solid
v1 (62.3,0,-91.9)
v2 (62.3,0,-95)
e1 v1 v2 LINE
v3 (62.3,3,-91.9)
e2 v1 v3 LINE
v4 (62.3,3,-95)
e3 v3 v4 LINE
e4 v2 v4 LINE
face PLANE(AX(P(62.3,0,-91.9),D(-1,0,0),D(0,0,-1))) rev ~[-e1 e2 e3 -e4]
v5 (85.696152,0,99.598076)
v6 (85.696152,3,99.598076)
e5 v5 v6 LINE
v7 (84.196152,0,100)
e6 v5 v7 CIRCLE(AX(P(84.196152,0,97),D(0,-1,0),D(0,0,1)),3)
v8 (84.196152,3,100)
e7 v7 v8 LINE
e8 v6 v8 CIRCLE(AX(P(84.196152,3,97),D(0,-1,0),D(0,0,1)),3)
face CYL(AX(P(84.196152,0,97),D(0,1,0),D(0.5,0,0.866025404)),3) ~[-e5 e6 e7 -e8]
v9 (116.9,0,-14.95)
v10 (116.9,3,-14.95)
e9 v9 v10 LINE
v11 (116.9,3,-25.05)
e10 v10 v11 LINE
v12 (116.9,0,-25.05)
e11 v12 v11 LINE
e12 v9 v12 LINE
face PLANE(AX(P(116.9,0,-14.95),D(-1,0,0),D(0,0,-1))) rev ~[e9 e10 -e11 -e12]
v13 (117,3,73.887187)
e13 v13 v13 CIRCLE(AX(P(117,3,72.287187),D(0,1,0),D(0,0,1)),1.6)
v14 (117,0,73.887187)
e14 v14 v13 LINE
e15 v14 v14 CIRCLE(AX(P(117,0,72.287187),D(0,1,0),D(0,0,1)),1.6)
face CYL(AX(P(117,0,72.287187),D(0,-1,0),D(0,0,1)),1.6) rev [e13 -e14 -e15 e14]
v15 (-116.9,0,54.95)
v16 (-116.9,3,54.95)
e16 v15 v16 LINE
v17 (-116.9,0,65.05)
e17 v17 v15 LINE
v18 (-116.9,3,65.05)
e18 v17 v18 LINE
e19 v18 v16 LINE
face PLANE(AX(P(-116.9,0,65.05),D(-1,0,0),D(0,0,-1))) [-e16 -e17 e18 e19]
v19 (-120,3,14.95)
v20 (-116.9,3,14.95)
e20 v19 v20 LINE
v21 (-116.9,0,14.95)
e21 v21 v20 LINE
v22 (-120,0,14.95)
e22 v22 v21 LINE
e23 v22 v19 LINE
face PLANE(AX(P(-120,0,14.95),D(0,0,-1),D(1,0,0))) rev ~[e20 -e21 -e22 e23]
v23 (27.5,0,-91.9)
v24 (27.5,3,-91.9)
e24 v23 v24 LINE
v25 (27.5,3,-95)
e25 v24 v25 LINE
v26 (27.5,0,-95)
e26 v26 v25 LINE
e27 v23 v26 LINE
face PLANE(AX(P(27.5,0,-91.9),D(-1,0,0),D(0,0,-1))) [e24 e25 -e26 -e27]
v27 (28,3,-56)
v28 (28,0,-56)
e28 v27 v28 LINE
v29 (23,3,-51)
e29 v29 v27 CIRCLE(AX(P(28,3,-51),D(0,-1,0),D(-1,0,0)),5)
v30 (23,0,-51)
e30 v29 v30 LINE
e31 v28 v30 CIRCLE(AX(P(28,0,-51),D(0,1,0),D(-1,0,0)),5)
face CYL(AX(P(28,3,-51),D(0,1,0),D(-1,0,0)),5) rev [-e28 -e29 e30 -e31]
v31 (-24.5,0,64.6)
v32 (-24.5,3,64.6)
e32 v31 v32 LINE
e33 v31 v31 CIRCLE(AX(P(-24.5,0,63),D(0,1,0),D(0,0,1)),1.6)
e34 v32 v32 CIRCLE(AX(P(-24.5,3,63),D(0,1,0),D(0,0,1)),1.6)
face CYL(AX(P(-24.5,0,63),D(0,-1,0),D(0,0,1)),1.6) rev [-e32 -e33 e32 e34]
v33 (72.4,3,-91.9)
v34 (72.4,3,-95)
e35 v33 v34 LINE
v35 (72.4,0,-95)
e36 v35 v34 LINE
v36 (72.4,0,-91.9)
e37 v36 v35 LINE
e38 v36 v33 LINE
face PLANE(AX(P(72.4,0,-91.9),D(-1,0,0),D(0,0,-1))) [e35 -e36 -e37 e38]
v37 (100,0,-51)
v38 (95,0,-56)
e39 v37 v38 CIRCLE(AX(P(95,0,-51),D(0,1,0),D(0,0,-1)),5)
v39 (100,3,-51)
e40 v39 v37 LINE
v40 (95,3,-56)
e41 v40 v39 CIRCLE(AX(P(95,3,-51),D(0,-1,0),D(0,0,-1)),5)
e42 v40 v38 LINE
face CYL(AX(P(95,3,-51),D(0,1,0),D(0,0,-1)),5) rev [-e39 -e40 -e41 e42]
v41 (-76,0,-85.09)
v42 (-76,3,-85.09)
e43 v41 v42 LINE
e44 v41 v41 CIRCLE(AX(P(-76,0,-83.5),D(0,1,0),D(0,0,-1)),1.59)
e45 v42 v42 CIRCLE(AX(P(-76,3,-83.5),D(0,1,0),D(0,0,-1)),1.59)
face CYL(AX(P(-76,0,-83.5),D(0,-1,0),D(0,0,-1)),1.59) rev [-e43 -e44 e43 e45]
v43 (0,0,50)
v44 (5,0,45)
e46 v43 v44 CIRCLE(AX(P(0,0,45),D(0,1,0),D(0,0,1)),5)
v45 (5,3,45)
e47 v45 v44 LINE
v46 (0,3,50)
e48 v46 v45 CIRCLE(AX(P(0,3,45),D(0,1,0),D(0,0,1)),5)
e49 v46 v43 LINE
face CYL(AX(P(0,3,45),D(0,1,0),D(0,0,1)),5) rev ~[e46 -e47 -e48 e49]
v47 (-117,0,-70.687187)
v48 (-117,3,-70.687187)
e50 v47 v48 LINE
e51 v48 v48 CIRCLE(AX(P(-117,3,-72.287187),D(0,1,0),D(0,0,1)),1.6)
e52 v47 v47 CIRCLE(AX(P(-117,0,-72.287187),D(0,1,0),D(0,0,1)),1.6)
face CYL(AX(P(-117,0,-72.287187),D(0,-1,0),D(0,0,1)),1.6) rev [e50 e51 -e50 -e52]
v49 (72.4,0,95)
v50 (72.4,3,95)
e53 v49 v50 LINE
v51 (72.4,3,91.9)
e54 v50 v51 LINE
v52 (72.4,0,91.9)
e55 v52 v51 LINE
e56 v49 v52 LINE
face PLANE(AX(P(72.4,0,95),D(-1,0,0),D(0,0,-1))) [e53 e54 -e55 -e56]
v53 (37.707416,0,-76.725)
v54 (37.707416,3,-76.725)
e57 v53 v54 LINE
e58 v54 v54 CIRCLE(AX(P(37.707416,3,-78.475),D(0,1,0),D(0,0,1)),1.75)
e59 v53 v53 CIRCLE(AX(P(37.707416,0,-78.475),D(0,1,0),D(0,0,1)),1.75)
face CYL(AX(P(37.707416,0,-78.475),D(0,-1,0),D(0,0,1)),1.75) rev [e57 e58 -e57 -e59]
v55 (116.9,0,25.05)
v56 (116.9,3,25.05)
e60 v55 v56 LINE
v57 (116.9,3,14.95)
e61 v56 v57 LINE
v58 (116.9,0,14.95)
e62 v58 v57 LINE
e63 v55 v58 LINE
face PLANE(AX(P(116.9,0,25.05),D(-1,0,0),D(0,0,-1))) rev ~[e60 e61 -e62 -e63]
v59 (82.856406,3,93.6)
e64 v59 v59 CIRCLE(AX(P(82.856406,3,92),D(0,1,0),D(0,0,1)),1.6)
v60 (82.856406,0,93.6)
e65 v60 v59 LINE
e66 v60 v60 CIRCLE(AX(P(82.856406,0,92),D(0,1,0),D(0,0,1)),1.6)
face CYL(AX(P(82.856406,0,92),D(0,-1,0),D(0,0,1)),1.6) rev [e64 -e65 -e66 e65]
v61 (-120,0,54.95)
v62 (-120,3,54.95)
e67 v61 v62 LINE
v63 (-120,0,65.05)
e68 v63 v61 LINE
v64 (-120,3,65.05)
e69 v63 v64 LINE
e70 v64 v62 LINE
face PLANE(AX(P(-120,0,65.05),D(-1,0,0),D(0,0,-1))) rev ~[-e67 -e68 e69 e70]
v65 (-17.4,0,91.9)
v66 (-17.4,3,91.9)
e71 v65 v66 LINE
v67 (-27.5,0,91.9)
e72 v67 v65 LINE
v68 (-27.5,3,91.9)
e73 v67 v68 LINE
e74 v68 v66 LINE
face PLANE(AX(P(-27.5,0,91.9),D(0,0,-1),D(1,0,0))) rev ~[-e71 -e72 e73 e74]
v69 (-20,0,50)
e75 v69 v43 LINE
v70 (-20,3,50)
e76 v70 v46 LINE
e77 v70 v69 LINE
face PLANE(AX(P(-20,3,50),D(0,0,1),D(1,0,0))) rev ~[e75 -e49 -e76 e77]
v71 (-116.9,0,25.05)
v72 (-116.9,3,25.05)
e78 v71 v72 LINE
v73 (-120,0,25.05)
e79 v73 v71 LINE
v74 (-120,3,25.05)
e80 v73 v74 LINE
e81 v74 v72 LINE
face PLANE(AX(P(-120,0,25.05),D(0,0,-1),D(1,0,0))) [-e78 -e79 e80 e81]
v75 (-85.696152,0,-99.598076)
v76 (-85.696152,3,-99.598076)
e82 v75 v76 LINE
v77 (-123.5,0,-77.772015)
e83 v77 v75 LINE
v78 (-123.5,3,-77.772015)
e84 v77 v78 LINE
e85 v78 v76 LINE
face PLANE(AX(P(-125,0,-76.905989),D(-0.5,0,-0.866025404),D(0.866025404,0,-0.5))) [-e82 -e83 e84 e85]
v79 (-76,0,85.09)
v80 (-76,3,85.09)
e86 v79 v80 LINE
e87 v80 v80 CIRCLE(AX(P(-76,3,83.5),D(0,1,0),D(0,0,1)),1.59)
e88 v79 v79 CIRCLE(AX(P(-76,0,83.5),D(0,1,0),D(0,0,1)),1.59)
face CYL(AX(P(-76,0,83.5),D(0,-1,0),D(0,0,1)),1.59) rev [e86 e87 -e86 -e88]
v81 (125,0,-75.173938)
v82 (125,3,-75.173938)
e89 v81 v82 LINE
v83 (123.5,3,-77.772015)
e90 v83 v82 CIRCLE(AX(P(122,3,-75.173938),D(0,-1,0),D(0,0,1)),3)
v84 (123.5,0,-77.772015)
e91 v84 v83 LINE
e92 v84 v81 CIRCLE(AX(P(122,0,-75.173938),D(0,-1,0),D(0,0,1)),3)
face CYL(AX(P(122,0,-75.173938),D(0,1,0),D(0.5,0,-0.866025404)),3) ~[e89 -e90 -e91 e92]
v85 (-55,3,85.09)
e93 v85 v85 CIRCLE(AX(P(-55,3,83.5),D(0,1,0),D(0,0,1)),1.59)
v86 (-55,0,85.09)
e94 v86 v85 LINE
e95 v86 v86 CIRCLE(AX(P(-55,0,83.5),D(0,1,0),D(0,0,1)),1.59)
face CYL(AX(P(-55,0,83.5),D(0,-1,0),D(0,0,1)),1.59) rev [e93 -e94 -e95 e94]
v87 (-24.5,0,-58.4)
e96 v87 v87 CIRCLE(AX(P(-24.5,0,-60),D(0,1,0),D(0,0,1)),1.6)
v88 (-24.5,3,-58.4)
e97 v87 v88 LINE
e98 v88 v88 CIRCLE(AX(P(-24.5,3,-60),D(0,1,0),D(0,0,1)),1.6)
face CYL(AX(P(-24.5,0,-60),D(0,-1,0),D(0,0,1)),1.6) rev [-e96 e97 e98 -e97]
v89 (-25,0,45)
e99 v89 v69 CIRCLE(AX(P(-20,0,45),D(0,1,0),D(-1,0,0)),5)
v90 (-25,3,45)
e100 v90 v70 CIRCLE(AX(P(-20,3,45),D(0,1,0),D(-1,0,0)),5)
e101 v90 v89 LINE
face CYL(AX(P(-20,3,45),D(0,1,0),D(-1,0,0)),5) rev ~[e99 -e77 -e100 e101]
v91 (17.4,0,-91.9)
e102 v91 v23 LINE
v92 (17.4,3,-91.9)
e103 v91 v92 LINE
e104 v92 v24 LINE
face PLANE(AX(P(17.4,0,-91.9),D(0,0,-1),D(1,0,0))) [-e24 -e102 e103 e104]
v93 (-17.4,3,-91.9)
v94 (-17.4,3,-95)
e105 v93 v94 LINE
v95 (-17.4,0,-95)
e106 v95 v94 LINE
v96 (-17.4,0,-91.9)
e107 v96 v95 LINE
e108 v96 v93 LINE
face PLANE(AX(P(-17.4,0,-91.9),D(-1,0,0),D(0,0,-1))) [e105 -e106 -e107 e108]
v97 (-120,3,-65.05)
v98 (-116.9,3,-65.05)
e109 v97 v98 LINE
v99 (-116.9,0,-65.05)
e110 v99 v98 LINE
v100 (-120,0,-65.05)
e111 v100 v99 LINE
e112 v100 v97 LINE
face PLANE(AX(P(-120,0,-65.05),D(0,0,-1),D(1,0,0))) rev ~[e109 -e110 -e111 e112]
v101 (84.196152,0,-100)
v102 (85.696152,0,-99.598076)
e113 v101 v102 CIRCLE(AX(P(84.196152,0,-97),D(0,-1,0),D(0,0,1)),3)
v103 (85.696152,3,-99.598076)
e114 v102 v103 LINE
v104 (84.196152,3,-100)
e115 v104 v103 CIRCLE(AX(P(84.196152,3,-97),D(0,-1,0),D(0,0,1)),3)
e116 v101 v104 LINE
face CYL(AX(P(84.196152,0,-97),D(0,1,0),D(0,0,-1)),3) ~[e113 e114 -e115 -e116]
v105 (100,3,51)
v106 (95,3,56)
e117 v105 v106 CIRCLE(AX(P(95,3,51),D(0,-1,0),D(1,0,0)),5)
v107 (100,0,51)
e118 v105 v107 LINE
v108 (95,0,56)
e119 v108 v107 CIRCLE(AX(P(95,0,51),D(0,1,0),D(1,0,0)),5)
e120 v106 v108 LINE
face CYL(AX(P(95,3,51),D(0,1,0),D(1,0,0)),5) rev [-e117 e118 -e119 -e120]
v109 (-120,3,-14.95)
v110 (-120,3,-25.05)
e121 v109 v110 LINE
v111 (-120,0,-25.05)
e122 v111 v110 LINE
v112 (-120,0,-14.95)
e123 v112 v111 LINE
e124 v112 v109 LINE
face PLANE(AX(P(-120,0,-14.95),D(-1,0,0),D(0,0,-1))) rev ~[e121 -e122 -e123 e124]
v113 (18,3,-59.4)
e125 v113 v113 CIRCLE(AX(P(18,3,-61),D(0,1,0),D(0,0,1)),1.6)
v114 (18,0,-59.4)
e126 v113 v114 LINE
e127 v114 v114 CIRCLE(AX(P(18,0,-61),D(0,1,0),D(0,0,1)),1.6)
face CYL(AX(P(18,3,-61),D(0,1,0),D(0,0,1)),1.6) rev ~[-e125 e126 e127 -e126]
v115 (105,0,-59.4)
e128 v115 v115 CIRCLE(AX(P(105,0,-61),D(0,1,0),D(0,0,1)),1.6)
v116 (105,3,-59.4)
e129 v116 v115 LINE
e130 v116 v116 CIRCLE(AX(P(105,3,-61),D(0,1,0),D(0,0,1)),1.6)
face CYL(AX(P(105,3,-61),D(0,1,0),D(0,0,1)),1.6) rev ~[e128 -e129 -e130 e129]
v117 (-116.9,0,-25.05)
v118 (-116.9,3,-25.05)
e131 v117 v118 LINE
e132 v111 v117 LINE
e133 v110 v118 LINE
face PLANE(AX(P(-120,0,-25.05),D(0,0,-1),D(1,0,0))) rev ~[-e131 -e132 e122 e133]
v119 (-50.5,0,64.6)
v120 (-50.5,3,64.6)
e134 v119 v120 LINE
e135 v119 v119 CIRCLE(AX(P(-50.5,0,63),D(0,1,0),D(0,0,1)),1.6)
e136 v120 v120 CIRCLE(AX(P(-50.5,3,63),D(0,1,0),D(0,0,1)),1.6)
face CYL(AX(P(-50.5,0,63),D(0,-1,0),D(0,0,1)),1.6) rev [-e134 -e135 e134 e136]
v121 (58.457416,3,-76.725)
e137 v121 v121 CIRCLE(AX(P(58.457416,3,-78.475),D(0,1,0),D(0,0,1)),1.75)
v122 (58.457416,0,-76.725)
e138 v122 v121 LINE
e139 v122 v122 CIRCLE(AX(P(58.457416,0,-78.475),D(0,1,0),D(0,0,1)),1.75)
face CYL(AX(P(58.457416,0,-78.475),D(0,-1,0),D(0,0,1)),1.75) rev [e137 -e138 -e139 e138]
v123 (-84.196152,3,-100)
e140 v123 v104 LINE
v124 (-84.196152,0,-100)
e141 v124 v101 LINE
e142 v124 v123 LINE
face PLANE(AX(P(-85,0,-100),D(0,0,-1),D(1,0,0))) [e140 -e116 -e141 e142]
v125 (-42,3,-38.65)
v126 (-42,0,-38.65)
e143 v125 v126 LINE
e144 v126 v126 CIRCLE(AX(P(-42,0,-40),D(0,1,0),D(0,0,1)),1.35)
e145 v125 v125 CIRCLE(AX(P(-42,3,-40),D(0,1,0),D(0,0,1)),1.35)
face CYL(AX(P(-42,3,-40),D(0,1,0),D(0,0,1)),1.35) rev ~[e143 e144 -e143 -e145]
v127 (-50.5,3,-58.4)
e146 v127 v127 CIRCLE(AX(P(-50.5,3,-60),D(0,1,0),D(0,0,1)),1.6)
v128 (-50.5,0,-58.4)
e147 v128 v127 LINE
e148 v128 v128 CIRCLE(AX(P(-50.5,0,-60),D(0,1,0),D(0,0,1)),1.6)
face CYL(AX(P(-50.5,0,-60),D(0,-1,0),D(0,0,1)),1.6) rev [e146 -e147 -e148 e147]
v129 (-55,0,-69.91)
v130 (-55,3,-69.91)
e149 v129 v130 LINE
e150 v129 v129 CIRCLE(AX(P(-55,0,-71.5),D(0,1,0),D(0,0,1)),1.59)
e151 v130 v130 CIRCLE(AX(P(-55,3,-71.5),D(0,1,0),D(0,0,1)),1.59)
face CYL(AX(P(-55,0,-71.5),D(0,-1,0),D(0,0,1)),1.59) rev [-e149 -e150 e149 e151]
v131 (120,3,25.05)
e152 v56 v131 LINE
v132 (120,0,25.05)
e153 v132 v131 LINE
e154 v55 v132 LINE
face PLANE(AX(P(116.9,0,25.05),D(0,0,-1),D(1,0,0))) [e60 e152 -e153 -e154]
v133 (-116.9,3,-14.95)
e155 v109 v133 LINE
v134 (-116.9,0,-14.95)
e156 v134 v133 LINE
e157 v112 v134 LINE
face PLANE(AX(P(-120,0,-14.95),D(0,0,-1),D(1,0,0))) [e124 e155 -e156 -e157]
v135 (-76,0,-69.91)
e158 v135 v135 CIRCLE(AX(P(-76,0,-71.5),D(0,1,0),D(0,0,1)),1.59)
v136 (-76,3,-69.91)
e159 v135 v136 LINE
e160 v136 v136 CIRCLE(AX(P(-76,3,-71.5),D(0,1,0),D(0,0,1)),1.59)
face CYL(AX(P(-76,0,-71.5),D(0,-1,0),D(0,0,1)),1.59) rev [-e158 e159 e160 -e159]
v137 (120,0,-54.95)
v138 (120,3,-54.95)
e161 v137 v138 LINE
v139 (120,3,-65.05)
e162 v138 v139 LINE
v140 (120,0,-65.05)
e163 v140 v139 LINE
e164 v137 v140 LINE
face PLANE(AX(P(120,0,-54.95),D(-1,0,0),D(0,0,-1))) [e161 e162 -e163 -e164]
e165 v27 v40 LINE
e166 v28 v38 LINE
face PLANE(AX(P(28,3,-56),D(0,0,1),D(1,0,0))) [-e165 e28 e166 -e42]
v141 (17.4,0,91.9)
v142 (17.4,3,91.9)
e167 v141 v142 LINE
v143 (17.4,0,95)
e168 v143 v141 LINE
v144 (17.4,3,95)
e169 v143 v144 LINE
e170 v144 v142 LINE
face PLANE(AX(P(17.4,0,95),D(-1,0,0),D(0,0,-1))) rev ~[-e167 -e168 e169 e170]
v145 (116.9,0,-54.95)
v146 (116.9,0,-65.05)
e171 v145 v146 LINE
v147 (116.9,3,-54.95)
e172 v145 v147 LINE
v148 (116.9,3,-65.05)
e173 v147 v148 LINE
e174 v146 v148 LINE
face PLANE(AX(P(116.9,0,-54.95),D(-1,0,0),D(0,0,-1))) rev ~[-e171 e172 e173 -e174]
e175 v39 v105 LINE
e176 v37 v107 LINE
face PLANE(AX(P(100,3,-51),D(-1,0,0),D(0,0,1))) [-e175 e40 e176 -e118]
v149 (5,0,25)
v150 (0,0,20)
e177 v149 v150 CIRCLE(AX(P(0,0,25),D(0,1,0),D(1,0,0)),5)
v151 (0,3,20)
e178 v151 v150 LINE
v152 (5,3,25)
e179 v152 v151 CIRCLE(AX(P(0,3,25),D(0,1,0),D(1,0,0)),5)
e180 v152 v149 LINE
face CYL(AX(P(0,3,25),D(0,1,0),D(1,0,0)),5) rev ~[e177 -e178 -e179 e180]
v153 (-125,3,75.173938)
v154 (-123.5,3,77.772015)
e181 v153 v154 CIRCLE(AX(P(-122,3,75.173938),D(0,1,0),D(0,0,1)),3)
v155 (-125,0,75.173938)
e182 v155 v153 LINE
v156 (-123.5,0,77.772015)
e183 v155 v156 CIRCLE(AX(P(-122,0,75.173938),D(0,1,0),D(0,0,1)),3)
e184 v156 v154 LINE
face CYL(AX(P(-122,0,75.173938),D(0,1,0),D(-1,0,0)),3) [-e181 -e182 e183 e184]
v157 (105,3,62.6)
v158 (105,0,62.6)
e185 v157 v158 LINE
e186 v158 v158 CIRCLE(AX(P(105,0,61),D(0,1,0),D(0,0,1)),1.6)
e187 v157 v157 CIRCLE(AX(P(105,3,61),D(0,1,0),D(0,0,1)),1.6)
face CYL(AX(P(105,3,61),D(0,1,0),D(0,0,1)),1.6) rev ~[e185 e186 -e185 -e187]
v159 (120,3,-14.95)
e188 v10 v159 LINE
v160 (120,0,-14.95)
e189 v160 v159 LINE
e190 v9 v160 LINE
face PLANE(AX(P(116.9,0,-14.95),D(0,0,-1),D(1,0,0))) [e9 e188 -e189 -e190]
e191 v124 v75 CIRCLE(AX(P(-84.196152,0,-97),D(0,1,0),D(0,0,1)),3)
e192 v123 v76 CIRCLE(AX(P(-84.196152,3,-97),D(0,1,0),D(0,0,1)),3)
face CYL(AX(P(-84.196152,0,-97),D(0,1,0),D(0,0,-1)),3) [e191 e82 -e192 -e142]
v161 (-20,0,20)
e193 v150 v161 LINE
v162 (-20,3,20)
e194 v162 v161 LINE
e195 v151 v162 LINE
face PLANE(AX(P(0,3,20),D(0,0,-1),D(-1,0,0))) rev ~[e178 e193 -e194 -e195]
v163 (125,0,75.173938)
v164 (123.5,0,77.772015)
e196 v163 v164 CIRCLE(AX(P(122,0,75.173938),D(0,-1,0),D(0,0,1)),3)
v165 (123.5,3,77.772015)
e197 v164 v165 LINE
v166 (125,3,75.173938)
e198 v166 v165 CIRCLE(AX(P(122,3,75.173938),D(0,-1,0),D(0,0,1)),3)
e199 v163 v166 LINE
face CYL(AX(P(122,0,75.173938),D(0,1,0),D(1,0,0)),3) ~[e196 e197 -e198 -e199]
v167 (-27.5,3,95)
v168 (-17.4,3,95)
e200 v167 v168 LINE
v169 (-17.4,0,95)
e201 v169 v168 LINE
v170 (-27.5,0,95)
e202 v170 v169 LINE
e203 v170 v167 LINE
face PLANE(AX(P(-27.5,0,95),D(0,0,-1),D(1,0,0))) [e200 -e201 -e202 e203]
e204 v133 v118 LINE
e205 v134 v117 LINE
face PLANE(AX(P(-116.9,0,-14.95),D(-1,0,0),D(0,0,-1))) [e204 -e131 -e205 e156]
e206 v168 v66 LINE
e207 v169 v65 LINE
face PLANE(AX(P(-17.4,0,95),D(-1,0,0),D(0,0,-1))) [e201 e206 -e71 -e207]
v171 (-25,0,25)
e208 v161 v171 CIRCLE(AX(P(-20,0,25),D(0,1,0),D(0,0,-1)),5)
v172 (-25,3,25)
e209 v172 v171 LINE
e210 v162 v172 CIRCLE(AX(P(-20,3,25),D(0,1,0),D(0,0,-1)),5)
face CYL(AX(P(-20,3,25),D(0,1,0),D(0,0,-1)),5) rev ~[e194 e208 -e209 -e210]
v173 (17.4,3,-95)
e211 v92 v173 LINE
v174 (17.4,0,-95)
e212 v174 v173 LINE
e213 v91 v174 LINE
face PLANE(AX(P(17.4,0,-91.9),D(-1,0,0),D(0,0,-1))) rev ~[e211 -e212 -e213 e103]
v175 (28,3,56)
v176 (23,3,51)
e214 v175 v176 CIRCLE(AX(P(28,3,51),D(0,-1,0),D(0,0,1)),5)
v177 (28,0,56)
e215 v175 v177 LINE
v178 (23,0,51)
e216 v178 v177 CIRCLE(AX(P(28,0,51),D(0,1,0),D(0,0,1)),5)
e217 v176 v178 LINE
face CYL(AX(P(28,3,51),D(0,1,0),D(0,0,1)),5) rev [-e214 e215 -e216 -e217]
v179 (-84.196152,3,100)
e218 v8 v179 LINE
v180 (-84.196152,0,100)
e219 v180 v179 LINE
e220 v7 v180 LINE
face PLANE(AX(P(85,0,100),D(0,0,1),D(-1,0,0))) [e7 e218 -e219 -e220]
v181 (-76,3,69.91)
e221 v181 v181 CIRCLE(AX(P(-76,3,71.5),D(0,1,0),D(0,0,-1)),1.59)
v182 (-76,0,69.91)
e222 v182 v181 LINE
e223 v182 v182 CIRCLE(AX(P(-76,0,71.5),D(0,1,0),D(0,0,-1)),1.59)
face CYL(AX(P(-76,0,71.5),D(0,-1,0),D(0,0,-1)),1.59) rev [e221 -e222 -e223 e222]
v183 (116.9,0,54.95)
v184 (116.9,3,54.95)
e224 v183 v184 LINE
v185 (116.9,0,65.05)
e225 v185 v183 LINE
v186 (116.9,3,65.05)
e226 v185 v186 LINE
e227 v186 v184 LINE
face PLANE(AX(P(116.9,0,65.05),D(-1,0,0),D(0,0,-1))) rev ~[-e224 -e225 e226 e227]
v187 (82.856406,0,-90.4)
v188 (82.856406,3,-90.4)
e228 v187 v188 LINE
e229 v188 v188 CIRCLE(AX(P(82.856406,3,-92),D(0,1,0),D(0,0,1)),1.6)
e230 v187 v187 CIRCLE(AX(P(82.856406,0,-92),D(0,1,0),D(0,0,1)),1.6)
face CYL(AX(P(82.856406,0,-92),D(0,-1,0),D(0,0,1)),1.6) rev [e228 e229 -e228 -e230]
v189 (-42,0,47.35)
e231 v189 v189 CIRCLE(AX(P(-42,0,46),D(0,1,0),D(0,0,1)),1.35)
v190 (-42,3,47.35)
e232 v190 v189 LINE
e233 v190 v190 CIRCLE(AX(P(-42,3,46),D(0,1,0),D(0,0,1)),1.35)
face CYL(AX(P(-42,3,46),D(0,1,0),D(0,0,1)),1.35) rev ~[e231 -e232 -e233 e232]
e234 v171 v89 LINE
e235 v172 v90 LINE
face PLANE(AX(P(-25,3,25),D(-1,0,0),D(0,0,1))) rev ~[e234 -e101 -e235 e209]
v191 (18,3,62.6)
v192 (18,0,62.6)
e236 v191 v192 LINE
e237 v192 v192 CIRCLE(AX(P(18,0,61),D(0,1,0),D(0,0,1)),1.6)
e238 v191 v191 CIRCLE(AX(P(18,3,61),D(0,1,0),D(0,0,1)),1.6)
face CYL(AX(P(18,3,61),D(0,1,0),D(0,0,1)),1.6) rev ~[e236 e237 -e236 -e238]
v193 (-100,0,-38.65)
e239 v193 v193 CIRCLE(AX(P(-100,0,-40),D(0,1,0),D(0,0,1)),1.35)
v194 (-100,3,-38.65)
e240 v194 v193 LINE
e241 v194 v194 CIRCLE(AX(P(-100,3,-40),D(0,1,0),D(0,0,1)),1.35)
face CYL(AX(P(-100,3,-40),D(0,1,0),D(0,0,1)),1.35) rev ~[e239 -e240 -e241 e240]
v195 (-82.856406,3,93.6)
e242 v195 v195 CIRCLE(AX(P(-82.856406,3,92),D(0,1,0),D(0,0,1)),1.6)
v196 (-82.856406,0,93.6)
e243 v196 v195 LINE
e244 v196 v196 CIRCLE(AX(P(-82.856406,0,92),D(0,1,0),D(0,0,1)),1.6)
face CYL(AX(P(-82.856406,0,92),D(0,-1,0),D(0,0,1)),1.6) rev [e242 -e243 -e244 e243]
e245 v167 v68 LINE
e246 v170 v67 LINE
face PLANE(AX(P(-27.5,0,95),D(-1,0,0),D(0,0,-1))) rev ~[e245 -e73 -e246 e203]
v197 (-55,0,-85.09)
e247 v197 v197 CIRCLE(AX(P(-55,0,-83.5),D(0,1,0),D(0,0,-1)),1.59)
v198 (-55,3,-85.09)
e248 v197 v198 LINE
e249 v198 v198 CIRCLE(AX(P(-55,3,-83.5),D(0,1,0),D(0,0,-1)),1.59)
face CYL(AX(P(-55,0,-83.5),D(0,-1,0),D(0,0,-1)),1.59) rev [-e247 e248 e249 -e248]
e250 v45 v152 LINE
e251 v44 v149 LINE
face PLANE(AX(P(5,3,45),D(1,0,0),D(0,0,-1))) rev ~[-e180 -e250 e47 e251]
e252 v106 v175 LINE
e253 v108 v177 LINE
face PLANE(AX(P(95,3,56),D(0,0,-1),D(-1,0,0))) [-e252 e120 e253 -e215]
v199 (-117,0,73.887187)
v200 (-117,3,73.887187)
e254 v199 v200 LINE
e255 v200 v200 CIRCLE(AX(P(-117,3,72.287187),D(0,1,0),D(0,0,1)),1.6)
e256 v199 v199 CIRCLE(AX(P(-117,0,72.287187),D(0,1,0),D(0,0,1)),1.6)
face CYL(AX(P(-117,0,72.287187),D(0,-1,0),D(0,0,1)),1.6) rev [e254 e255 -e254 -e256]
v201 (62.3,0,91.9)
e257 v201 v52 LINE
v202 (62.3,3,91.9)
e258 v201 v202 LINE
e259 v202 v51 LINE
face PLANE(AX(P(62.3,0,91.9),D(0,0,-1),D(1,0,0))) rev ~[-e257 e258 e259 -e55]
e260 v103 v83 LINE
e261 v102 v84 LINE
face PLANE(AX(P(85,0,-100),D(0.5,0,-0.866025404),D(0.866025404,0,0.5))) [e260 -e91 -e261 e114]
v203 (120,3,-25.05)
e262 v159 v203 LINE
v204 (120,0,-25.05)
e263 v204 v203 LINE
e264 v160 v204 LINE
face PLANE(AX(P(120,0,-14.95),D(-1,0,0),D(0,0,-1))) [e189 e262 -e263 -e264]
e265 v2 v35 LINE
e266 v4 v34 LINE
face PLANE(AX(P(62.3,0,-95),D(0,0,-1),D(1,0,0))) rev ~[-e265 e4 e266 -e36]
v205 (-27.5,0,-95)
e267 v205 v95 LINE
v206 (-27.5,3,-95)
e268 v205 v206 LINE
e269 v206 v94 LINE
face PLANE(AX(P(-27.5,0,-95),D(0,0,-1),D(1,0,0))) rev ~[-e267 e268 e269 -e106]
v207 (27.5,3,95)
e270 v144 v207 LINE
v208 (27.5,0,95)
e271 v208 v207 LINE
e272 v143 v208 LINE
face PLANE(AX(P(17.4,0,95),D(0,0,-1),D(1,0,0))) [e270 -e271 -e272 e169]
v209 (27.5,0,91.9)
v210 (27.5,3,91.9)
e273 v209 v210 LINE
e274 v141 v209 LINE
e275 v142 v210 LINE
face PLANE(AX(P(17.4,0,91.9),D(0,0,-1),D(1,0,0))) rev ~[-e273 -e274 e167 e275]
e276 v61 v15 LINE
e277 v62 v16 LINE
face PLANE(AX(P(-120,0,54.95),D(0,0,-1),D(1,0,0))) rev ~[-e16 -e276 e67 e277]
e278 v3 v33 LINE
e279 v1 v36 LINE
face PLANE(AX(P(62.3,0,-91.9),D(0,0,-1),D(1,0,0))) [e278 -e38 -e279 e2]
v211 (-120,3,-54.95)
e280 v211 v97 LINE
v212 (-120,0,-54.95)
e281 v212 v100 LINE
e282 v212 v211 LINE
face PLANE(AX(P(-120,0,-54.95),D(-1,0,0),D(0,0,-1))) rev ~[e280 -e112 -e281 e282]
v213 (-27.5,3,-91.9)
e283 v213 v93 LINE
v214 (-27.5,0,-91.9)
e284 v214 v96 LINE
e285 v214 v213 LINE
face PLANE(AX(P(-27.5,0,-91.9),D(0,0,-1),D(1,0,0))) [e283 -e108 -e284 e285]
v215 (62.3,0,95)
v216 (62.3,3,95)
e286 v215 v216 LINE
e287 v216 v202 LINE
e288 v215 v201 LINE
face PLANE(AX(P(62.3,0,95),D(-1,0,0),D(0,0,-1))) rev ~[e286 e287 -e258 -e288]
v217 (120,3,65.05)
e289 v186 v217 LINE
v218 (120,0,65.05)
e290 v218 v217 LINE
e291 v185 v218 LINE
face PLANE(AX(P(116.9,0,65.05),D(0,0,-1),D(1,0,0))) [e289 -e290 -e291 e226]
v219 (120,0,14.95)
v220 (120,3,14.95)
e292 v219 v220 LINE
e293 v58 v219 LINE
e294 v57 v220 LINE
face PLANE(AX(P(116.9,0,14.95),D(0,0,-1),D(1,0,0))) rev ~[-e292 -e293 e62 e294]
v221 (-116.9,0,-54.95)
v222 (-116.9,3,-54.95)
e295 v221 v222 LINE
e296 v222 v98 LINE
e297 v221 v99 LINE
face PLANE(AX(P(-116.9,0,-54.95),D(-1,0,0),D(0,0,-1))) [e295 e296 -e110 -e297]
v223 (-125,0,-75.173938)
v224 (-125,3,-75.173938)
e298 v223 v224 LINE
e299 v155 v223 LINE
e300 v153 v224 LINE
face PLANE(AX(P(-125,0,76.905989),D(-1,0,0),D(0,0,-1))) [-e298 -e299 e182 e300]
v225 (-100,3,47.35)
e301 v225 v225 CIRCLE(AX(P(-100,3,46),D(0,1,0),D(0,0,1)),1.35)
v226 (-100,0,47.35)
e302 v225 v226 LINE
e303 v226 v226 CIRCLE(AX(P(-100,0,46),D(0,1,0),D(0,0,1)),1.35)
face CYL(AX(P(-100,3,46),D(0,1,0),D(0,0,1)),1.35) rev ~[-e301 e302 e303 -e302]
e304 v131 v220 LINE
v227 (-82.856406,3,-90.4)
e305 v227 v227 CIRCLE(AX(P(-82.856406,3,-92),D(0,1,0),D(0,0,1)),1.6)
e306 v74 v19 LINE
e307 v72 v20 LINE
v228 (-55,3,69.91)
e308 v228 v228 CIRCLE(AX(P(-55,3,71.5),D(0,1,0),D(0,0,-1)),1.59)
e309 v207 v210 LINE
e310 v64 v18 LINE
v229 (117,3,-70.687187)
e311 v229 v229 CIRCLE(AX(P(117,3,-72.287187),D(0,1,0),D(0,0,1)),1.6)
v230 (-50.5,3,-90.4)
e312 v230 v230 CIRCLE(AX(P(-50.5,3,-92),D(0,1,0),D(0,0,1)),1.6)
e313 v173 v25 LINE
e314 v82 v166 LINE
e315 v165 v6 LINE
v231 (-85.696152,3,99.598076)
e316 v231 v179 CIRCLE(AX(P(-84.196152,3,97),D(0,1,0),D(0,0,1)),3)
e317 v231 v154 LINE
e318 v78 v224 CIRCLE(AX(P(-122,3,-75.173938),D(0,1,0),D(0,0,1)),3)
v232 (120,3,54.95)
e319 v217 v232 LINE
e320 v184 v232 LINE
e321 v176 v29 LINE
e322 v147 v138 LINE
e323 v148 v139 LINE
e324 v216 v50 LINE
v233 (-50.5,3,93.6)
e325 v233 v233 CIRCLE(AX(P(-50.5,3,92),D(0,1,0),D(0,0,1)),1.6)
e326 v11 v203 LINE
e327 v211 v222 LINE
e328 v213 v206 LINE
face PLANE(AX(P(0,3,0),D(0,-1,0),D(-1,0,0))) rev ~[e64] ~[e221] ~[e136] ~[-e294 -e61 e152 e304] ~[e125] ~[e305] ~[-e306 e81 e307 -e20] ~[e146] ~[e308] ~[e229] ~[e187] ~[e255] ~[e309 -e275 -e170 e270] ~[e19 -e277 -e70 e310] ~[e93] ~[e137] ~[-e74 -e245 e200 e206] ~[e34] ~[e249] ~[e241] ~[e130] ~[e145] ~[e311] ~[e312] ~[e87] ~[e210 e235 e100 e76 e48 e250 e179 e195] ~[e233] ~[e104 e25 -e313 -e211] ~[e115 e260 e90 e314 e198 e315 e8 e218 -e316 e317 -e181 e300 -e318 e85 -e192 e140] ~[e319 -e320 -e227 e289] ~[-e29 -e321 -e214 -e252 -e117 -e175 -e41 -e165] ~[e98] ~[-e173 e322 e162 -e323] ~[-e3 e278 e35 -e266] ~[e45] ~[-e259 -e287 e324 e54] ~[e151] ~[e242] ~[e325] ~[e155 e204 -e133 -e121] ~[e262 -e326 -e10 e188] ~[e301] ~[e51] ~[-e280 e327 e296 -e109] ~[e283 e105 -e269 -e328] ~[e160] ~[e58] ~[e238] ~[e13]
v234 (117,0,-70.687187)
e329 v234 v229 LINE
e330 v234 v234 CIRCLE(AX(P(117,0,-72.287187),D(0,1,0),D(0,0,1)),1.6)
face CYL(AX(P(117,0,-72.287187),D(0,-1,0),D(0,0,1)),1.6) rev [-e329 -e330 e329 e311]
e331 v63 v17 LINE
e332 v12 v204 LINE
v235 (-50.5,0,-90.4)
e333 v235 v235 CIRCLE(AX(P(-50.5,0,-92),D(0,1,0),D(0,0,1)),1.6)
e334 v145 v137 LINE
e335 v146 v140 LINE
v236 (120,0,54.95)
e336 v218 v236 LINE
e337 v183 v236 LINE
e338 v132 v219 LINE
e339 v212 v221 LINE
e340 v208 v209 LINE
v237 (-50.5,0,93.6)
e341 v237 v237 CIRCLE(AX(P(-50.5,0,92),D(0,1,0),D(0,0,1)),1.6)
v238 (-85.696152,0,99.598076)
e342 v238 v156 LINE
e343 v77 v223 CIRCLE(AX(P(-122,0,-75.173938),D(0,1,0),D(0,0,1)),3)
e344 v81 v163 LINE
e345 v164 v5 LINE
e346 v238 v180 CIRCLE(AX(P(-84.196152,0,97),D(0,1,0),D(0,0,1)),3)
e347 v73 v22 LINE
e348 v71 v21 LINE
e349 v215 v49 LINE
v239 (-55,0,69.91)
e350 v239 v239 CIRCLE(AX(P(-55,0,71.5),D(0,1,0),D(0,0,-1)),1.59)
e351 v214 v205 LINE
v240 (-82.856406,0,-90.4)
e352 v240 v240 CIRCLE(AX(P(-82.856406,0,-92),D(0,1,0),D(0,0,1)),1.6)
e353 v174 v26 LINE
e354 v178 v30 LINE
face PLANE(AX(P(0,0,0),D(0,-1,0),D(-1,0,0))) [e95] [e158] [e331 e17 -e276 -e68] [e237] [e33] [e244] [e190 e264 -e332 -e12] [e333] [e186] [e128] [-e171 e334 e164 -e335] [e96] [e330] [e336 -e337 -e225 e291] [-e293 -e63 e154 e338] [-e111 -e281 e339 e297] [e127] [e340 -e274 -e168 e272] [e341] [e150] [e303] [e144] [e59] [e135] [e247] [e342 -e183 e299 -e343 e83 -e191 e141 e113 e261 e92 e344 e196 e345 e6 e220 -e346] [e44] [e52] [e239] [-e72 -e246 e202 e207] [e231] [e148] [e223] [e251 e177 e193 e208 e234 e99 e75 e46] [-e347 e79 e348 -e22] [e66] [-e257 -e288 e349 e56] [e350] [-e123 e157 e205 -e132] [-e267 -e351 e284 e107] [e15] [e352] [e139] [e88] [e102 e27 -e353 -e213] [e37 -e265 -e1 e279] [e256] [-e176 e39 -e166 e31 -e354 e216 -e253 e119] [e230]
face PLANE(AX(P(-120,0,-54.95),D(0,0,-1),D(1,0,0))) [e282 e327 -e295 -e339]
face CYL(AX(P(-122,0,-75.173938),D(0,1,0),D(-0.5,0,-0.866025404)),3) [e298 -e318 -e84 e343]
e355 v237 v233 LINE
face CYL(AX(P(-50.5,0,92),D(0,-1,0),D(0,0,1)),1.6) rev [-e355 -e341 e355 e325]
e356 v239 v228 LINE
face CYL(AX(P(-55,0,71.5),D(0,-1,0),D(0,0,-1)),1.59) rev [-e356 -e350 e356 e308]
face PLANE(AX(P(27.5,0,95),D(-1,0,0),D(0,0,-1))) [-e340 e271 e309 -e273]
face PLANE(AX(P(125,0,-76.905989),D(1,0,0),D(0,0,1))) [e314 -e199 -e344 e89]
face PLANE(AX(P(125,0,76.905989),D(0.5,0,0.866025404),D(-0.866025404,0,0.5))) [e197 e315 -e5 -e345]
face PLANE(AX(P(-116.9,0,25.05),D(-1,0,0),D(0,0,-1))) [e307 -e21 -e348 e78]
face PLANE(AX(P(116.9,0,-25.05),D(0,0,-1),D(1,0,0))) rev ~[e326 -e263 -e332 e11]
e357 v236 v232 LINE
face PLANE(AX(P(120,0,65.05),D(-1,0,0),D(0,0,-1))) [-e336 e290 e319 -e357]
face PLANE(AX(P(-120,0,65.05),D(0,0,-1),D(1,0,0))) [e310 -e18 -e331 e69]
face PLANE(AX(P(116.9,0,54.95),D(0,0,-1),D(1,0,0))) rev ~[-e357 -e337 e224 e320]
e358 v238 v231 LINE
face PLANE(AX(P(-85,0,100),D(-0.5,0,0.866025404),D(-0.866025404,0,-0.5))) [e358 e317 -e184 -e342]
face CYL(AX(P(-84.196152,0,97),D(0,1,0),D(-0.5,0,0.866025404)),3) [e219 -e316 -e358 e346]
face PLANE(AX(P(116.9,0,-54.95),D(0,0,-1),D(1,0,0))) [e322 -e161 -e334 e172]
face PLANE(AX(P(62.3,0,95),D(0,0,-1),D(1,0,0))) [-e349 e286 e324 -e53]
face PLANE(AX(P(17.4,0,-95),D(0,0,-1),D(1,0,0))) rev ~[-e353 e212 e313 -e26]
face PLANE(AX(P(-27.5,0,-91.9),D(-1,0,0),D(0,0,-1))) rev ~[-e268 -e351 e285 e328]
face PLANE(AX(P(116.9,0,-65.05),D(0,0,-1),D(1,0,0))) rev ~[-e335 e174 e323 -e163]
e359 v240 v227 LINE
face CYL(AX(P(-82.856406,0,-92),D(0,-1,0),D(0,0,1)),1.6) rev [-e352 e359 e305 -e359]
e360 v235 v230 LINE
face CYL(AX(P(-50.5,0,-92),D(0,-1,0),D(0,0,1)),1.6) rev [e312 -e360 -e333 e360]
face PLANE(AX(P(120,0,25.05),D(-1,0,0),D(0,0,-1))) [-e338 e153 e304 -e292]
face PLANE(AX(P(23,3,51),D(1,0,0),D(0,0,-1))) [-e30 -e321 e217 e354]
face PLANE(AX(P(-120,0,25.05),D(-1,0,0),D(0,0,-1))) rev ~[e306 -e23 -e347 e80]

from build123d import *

# Parameters (mm, degrees)
SKETCH1_R           = 1.6
SKETCH1_R_2         = 1.59
SKETCH1_R_3         = 1.75
SKETCH1_W           = 10.1
SKETCH1_H           = 3.1
SKETCH1_W_2         = 3.1
SKETCH1_H_2         = 10.1
BOSS_EXTRUDE1_DEPTH = 3
CUT_EXTRUDE1_REACH  = 162.106
SKETCH3_R           = 1.35
SKETCH3_R_2         = 1.6
FILLET1_R           = 3


with BuildPart() as part:
    # Sketch1 → Boss-Extrude1 (new body)
    with BuildSketch(Plane(origin=(0, 0, 0), x_dir=(1, 0, 0), z_dir=(0, 1, 0))):
        Polygon((-85, 100), (85, 100), (125, 76.905989232), (125, -76.905989232), (85, -100), (-85, -100), (-125, -76.905989232), (-125, 76.905989232), align=None)
        with Locations(Location((-50.5, -63, 0), (0, 0, 270))):
            Circle(SKETCH1_R, mode=Mode.SUBTRACT)
        with Locations(Location((82.856406461, 92, 0), (0, 0, 270))):
            Circle(SKETCH1_R, mode=Mode.SUBTRACT)
        with Locations(Location((117, 72.287187079, 0), (0, 0, 270))):
            Circle(SKETCH1_R, mode=Mode.SUBTRACT)
        with Locations(Location((117, -72.287187079, 0), (0, 0, 270))):
            Circle(SKETCH1_R, mode=Mode.SUBTRACT)
        with Locations(Location((82.856406461, -92, 0), (0, 0, 270))):
            Circle(SKETCH1_R, mode=Mode.SUBTRACT)
        with Locations(Location((-24.5, -63, 0), (0, 0, 270))):
            Circle(SKETCH1_R, mode=Mode.SUBTRACT)
        with Locations(Location((-24.5, 60, 0), (0, 0, 270))):
            Circle(SKETCH1_R, mode=Mode.SUBTRACT)
        with Locations(Location((-117, -72.287187079, 0), (0, 0, 270))):
            Circle(SKETCH1_R, mode=Mode.SUBTRACT)
        with Locations(Location((-50.5, -92, 0), (0, 0, 270))):
            Circle(SKETCH1_R, mode=Mode.SUBTRACT)
        with Locations(Location((-50.5, 60, 0), (0, 0, 270))):
            Circle(SKETCH1_R, mode=Mode.SUBTRACT)
        with Locations(Location((-117, 72.287187079, 0), (0, 0, 270))):
            Circle(SKETCH1_R, mode=Mode.SUBTRACT)
        with Locations(Location((-50.5, 92, 0), (0, 0, 270))):
            Circle(SKETCH1_R, mode=Mode.SUBTRACT)
        with Locations(Location((-82.856406461, -92, 0), (0, 0, 270))):
            Circle(SKETCH1_R, mode=Mode.SUBTRACT)
        with Locations(Location((-82.856406461, 92, 0), (0, 0, 270))):
            Circle(SKETCH1_R, mode=Mode.SUBTRACT)
        with Locations(Location((-55, 71.5, 0), (0, 0, 270))):
            Circle(SKETCH1_R_2, mode=Mode.SUBTRACT)
        with Locations(Location((-76, 71.5, 0), (0, 0, 270))):
            Circle(SKETCH1_R_2, mode=Mode.SUBTRACT)
        with Locations(Location((-55, 83.5, 0), (0, 0, 90))):
            Circle(SKETCH1_R_2, mode=Mode.SUBTRACT)
        with Locations(Location((-76, 83.5, 0), (0, 0, 90))):
            Circle(SKETCH1_R_2, mode=Mode.SUBTRACT)
        with Locations(Location((-55, -83.5, 0), (0, 0, 270))):
            Circle(SKETCH1_R_2, mode=Mode.SUBTRACT)
        with Locations(Location((-55, -71.5, 0), (0, 0, 90))):
            Circle(SKETCH1_R_2, mode=Mode.SUBTRACT)
        with Locations(Location((-76, -71.5, 0), (0, 0, 90))):
            Circle(SKETCH1_R_2, mode=Mode.SUBTRACT)
        with Locations(Location((-76, -83.5, 0), (0, 0, 270))):
            Circle(SKETCH1_R_2, mode=Mode.SUBTRACT)
        with Locations(Location((37.707416379, 78.475, 0), (0, 0, 270))):
            Circle(SKETCH1_R_3, mode=Mode.SUBTRACT)
        with Locations(Location((58.457416379, 78.475, 0), (0, 0, 270))):
            Circle(SKETCH1_R_3, mode=Mode.SUBTRACT)
        with Locations((-22.45, -93.45)):
            Rectangle(SKETCH1_W, SKETCH1_H, mode=Mode.SUBTRACT)
        with Locations((-118.45, 60)):
            Rectangle(SKETCH1_W_2, SKETCH1_H_2, mode=Mode.SUBTRACT)
        with Locations((-118.45, 20)):
            Rectangle(SKETCH1_W_2, SKETCH1_H_2, mode=Mode.SUBTRACT)
        with Locations((-118.45, -20)):
            Rectangle(SKETCH1_W_2, SKETCH1_H_2, mode=Mode.SUBTRACT)
        with Locations((-118.45, -60)):
            Rectangle(SKETCH1_W_2, SKETCH1_H_2, mode=Mode.SUBTRACT)
        with Locations((118.45, -60)):
            Rectangle(SKETCH1_W_2, SKETCH1_H_2, mode=Mode.SUBTRACT)
        with Locations((118.45, -20)):
            Rectangle(SKETCH1_W_2, SKETCH1_H_2, mode=Mode.SUBTRACT)
        with Locations((118.45, 20)):
            Rectangle(SKETCH1_W_2, SKETCH1_H_2, mode=Mode.SUBTRACT)
        with Locations((118.45, 60)):
            Rectangle(SKETCH1_W_2, SKETCH1_H_2, mode=Mode.SUBTRACT)
        with Locations((22.45, -93.45)):
            Rectangle(SKETCH1_W, SKETCH1_H, mode=Mode.SUBTRACT)
        with Locations((67.35, -93.45)):
            Rectangle(SKETCH1_W, SKETCH1_H, mode=Mode.SUBTRACT)
        with Locations((67.35, 93.45)):
            Rectangle(SKETCH1_W, SKETCH1_H, mode=Mode.SUBTRACT)
        with Locations((22.45, 93.45)):
            Rectangle(SKETCH1_W, SKETCH1_H, mode=Mode.SUBTRACT)
        with Locations((-22.45, 93.45)):
            Rectangle(SKETCH1_W, SKETCH1_H, mode=Mode.SUBTRACT)
    extrude(amount=BOSS_EXTRUDE1_DEPTH)

    # Sketch3 → Cut-Extrude1 (cut, up to next)
    with BuildSketch(Plane(origin=(0, 3, 0), x_dir=(1, 0, 0), z_dir=(0, 1, 0)), mode=Mode.PRIVATE) as cut_extrude1_sk1:
        with Locations(Location((-100, -46, 0), (0, 0, 270))):
            Circle(SKETCH3_R)
    cut_extrude1_tool1 = extrude(cut_extrude1_sk1.sketch, amount=-CUT_EXTRUDE1_REACH, mode=Mode.PRIVATE) & part.part
    # Sketch3 → Cut-Extrude1 (cut, up to next)
    with BuildSketch(Plane(origin=(0, 3, 0), x_dir=(1, 0, 0), z_dir=(0, 1, 0)), mode=Mode.PRIVATE) as cut_extrude1_sk2:
        with Locations(Location((-42, -46, 0), (0, 0, 270))):
            Circle(SKETCH3_R)
    cut_extrude1_tool2 = extrude(cut_extrude1_sk2.sketch, amount=-CUT_EXTRUDE1_REACH, mode=Mode.PRIVATE) & part.part
    # Sketch3 → Cut-Extrude1 (cut, up to next)
    with BuildSketch(Plane(origin=(0, 3, 0), x_dir=(1, 0, 0), z_dir=(0, 1, 0)), mode=Mode.PRIVATE) as cut_extrude1_sk3:
        with Locations(Location((-42, 40, 0), (0, 0, 270))):
            Circle(SKETCH3_R)
    cut_extrude1_tool3 = extrude(cut_extrude1_sk3.sketch, amount=-CUT_EXTRUDE1_REACH, mode=Mode.PRIVATE) & part.part
    # Sketch3 → Cut-Extrude1 (cut, up to next)
    with BuildSketch(Plane(origin=(0, 3, 0), x_dir=(1, 0, 0), z_dir=(0, 1, 0)), mode=Mode.PRIVATE) as cut_extrude1_sk4:
        with Locations(Location((-100, 40, 0), (0, 0, 270))):
            Circle(SKETCH3_R)
    cut_extrude1_tool4 = extrude(cut_extrude1_sk4.sketch, amount=-CUT_EXTRUDE1_REACH, mode=Mode.PRIVATE) & part.part
    # Sketch3 → Cut-Extrude1 (cut, up to next)
    with BuildSketch(Plane(origin=(0, 3, 0), x_dir=(1, 0, 0), z_dir=(0, 1, 0)), mode=Mode.PRIVATE) as cut_extrude1_sk5:
        with Locations(Location((18, 61, 0), (0, 0, 270))):
            Circle(SKETCH3_R_2)
    cut_extrude1_tool5 = extrude(cut_extrude1_sk5.sketch, amount=-CUT_EXTRUDE1_REACH, mode=Mode.PRIVATE) & part.part
    # Sketch3 → Cut-Extrude1 (cut, up to next)
    with BuildSketch(Plane(origin=(0, 3, 0), x_dir=(1, 0, 0), z_dir=(0, 1, 0)), mode=Mode.PRIVATE) as cut_extrude1_sk6:
        with Locations(Location((105, 61, 0), (0, 0, 270))):
            Circle(SKETCH3_R_2)
    cut_extrude1_tool6 = extrude(cut_extrude1_sk6.sketch, amount=-CUT_EXTRUDE1_REACH, mode=Mode.PRIVATE) & part.part
    # Sketch3 → Cut-Extrude1 (cut, up to next)
    with BuildSketch(Plane(origin=(0, 3, 0), x_dir=(1, 0, 0), z_dir=(0, 1, 0)), mode=Mode.PRIVATE) as cut_extrude1_sk7:
        with Locations(Location((105, -61, 0), (0, 0, 270))):
            Circle(SKETCH3_R_2)
    cut_extrude1_tool7 = extrude(cut_extrude1_sk7.sketch, amount=-CUT_EXTRUDE1_REACH, mode=Mode.PRIVATE) & part.part
    # Sketch3 → Cut-Extrude1 (cut, up to next)
    with BuildSketch(Plane(origin=(0, 3, 0), x_dir=(1, 0, 0), z_dir=(0, 1, 0)), mode=Mode.PRIVATE) as cut_extrude1_sk8:
        with Locations(Location((18, -61, 0), (0, 0, 270))):
            Circle(SKETCH3_R_2)
    cut_extrude1_tool8 = extrude(cut_extrude1_sk8.sketch, amount=-CUT_EXTRUDE1_REACH, mode=Mode.PRIVATE) & part.part
    # Sketch3 → Cut-Extrude1 (cut, up to next)
    with BuildSketch(Plane(origin=(0, 3, 0), x_dir=(1, 0, 0), z_dir=(0, 1, 0)), mode=Mode.PRIVATE) as cut_extrude1_sk9:
        with BuildLine():
            Line((28, 56), (95, 56))
            ThreePointArc((95, 56), (98.535533906, 54.535533906), (100, 51))
            Line((100, 51), (100, -51))
            ThreePointArc((100, -51), (98.535533906, -54.535533906), (95, -56))
            Line((95, -56), (28, -56))
            ThreePointArc((28, -56), (24.464466094, -54.535533906), (23, -51))
            Line((23, -51), (23, 51))
            ThreePointArc((23, 51), (24.464466094, 54.535533906), (28, 56))
        make_face()
    cut_extrude1_tool9 = extrude(cut_extrude1_sk9.sketch, amount=-CUT_EXTRUDE1_REACH, mode=Mode.PRIVATE) & part.part
    # Sketch3 → Cut-Extrude1 (cut, up to next)
    with BuildSketch(Plane(origin=(0, 3, 0), x_dir=(1, 0, 0), z_dir=(0, 1, 0)), mode=Mode.PRIVATE) as cut_extrude1_sk10:
        with BuildLine():
            Line((-20, -50), (0, -50))
            ThreePointArc((0, -50), (3.535533906, -48.535533906), (5, -45))
            Line((5, -45), (5, -25))
            ThreePointArc((5, -25), (3.535533906, -21.464466094), (0, -20))
            Line((0, -20), (-20, -20))
            ThreePointArc((-20, -20), (-23.535533906, -21.464466094), (-25, -25))
            Line((-25, -25), (-25, -45))
            ThreePointArc((-25, -45), (-23.535533906, -48.535533906), (-20, -50))
        make_face()
    cut_extrude1_tool10 = extrude(cut_extrude1_sk10.sketch, amount=-CUT_EXTRUDE1_REACH, mode=Mode.PRIVATE) & part.part
    add(cut_extrude1_tool1.solids().sort_by_distance((-100, 3, 46))[0], mode=Mode.SUBTRACT)
    add(cut_extrude1_tool2.solids().sort_by_distance((-42, 3, 46))[0], mode=Mode.SUBTRACT)
    add(cut_extrude1_tool3.solids().sort_by_distance((-42, 3, -40))[0], mode=Mode.SUBTRACT)
    add(cut_extrude1_tool4.solids().sort_by_distance((-100, 3, -40))[0], mode=Mode.SUBTRACT)
    add(cut_extrude1_tool5.solids().sort_by_distance((18, 3, -61))[0], mode=Mode.SUBTRACT)
    add(cut_extrude1_tool6.solids().sort_by_distance((105, 3, -61))[0], mode=Mode.SUBTRACT)
    add(cut_extrude1_tool7.solids().sort_by_distance((105, 3, 61))[0], mode=Mode.SUBTRACT)
    add(cut_extrude1_tool8.solids().sort_by_distance((18, 3, 61))[0], mode=Mode.SUBTRACT)
    add(cut_extrude1_tool9.solids().sort_by_distance((61.5, 3, 0))[0], mode=Mode.SUBTRACT)
    add(cut_extrude1_tool10.solids().sort_by_distance((-10, 3, 35))[0], mode=Mode.SUBTRACT)

    # Fillet1
    fillet1_edges = [part.edges().sort_by_distance(p)[0] for p in [
        (-85, 1.5, -100),
        (85, 1.5, -100),
        (125, 1.5, -76.905989232),
        (125, 1.5, 76.905989232),
        (85, 1.5, 100),
        (-85, 1.5, 100),
        (-125, 1.5, 76.905989232),
        (-125, 1.5, -76.905989232),
    ]]
    fillet(fillet1_edges, radius=FILLET1_R)


solid = part.part
